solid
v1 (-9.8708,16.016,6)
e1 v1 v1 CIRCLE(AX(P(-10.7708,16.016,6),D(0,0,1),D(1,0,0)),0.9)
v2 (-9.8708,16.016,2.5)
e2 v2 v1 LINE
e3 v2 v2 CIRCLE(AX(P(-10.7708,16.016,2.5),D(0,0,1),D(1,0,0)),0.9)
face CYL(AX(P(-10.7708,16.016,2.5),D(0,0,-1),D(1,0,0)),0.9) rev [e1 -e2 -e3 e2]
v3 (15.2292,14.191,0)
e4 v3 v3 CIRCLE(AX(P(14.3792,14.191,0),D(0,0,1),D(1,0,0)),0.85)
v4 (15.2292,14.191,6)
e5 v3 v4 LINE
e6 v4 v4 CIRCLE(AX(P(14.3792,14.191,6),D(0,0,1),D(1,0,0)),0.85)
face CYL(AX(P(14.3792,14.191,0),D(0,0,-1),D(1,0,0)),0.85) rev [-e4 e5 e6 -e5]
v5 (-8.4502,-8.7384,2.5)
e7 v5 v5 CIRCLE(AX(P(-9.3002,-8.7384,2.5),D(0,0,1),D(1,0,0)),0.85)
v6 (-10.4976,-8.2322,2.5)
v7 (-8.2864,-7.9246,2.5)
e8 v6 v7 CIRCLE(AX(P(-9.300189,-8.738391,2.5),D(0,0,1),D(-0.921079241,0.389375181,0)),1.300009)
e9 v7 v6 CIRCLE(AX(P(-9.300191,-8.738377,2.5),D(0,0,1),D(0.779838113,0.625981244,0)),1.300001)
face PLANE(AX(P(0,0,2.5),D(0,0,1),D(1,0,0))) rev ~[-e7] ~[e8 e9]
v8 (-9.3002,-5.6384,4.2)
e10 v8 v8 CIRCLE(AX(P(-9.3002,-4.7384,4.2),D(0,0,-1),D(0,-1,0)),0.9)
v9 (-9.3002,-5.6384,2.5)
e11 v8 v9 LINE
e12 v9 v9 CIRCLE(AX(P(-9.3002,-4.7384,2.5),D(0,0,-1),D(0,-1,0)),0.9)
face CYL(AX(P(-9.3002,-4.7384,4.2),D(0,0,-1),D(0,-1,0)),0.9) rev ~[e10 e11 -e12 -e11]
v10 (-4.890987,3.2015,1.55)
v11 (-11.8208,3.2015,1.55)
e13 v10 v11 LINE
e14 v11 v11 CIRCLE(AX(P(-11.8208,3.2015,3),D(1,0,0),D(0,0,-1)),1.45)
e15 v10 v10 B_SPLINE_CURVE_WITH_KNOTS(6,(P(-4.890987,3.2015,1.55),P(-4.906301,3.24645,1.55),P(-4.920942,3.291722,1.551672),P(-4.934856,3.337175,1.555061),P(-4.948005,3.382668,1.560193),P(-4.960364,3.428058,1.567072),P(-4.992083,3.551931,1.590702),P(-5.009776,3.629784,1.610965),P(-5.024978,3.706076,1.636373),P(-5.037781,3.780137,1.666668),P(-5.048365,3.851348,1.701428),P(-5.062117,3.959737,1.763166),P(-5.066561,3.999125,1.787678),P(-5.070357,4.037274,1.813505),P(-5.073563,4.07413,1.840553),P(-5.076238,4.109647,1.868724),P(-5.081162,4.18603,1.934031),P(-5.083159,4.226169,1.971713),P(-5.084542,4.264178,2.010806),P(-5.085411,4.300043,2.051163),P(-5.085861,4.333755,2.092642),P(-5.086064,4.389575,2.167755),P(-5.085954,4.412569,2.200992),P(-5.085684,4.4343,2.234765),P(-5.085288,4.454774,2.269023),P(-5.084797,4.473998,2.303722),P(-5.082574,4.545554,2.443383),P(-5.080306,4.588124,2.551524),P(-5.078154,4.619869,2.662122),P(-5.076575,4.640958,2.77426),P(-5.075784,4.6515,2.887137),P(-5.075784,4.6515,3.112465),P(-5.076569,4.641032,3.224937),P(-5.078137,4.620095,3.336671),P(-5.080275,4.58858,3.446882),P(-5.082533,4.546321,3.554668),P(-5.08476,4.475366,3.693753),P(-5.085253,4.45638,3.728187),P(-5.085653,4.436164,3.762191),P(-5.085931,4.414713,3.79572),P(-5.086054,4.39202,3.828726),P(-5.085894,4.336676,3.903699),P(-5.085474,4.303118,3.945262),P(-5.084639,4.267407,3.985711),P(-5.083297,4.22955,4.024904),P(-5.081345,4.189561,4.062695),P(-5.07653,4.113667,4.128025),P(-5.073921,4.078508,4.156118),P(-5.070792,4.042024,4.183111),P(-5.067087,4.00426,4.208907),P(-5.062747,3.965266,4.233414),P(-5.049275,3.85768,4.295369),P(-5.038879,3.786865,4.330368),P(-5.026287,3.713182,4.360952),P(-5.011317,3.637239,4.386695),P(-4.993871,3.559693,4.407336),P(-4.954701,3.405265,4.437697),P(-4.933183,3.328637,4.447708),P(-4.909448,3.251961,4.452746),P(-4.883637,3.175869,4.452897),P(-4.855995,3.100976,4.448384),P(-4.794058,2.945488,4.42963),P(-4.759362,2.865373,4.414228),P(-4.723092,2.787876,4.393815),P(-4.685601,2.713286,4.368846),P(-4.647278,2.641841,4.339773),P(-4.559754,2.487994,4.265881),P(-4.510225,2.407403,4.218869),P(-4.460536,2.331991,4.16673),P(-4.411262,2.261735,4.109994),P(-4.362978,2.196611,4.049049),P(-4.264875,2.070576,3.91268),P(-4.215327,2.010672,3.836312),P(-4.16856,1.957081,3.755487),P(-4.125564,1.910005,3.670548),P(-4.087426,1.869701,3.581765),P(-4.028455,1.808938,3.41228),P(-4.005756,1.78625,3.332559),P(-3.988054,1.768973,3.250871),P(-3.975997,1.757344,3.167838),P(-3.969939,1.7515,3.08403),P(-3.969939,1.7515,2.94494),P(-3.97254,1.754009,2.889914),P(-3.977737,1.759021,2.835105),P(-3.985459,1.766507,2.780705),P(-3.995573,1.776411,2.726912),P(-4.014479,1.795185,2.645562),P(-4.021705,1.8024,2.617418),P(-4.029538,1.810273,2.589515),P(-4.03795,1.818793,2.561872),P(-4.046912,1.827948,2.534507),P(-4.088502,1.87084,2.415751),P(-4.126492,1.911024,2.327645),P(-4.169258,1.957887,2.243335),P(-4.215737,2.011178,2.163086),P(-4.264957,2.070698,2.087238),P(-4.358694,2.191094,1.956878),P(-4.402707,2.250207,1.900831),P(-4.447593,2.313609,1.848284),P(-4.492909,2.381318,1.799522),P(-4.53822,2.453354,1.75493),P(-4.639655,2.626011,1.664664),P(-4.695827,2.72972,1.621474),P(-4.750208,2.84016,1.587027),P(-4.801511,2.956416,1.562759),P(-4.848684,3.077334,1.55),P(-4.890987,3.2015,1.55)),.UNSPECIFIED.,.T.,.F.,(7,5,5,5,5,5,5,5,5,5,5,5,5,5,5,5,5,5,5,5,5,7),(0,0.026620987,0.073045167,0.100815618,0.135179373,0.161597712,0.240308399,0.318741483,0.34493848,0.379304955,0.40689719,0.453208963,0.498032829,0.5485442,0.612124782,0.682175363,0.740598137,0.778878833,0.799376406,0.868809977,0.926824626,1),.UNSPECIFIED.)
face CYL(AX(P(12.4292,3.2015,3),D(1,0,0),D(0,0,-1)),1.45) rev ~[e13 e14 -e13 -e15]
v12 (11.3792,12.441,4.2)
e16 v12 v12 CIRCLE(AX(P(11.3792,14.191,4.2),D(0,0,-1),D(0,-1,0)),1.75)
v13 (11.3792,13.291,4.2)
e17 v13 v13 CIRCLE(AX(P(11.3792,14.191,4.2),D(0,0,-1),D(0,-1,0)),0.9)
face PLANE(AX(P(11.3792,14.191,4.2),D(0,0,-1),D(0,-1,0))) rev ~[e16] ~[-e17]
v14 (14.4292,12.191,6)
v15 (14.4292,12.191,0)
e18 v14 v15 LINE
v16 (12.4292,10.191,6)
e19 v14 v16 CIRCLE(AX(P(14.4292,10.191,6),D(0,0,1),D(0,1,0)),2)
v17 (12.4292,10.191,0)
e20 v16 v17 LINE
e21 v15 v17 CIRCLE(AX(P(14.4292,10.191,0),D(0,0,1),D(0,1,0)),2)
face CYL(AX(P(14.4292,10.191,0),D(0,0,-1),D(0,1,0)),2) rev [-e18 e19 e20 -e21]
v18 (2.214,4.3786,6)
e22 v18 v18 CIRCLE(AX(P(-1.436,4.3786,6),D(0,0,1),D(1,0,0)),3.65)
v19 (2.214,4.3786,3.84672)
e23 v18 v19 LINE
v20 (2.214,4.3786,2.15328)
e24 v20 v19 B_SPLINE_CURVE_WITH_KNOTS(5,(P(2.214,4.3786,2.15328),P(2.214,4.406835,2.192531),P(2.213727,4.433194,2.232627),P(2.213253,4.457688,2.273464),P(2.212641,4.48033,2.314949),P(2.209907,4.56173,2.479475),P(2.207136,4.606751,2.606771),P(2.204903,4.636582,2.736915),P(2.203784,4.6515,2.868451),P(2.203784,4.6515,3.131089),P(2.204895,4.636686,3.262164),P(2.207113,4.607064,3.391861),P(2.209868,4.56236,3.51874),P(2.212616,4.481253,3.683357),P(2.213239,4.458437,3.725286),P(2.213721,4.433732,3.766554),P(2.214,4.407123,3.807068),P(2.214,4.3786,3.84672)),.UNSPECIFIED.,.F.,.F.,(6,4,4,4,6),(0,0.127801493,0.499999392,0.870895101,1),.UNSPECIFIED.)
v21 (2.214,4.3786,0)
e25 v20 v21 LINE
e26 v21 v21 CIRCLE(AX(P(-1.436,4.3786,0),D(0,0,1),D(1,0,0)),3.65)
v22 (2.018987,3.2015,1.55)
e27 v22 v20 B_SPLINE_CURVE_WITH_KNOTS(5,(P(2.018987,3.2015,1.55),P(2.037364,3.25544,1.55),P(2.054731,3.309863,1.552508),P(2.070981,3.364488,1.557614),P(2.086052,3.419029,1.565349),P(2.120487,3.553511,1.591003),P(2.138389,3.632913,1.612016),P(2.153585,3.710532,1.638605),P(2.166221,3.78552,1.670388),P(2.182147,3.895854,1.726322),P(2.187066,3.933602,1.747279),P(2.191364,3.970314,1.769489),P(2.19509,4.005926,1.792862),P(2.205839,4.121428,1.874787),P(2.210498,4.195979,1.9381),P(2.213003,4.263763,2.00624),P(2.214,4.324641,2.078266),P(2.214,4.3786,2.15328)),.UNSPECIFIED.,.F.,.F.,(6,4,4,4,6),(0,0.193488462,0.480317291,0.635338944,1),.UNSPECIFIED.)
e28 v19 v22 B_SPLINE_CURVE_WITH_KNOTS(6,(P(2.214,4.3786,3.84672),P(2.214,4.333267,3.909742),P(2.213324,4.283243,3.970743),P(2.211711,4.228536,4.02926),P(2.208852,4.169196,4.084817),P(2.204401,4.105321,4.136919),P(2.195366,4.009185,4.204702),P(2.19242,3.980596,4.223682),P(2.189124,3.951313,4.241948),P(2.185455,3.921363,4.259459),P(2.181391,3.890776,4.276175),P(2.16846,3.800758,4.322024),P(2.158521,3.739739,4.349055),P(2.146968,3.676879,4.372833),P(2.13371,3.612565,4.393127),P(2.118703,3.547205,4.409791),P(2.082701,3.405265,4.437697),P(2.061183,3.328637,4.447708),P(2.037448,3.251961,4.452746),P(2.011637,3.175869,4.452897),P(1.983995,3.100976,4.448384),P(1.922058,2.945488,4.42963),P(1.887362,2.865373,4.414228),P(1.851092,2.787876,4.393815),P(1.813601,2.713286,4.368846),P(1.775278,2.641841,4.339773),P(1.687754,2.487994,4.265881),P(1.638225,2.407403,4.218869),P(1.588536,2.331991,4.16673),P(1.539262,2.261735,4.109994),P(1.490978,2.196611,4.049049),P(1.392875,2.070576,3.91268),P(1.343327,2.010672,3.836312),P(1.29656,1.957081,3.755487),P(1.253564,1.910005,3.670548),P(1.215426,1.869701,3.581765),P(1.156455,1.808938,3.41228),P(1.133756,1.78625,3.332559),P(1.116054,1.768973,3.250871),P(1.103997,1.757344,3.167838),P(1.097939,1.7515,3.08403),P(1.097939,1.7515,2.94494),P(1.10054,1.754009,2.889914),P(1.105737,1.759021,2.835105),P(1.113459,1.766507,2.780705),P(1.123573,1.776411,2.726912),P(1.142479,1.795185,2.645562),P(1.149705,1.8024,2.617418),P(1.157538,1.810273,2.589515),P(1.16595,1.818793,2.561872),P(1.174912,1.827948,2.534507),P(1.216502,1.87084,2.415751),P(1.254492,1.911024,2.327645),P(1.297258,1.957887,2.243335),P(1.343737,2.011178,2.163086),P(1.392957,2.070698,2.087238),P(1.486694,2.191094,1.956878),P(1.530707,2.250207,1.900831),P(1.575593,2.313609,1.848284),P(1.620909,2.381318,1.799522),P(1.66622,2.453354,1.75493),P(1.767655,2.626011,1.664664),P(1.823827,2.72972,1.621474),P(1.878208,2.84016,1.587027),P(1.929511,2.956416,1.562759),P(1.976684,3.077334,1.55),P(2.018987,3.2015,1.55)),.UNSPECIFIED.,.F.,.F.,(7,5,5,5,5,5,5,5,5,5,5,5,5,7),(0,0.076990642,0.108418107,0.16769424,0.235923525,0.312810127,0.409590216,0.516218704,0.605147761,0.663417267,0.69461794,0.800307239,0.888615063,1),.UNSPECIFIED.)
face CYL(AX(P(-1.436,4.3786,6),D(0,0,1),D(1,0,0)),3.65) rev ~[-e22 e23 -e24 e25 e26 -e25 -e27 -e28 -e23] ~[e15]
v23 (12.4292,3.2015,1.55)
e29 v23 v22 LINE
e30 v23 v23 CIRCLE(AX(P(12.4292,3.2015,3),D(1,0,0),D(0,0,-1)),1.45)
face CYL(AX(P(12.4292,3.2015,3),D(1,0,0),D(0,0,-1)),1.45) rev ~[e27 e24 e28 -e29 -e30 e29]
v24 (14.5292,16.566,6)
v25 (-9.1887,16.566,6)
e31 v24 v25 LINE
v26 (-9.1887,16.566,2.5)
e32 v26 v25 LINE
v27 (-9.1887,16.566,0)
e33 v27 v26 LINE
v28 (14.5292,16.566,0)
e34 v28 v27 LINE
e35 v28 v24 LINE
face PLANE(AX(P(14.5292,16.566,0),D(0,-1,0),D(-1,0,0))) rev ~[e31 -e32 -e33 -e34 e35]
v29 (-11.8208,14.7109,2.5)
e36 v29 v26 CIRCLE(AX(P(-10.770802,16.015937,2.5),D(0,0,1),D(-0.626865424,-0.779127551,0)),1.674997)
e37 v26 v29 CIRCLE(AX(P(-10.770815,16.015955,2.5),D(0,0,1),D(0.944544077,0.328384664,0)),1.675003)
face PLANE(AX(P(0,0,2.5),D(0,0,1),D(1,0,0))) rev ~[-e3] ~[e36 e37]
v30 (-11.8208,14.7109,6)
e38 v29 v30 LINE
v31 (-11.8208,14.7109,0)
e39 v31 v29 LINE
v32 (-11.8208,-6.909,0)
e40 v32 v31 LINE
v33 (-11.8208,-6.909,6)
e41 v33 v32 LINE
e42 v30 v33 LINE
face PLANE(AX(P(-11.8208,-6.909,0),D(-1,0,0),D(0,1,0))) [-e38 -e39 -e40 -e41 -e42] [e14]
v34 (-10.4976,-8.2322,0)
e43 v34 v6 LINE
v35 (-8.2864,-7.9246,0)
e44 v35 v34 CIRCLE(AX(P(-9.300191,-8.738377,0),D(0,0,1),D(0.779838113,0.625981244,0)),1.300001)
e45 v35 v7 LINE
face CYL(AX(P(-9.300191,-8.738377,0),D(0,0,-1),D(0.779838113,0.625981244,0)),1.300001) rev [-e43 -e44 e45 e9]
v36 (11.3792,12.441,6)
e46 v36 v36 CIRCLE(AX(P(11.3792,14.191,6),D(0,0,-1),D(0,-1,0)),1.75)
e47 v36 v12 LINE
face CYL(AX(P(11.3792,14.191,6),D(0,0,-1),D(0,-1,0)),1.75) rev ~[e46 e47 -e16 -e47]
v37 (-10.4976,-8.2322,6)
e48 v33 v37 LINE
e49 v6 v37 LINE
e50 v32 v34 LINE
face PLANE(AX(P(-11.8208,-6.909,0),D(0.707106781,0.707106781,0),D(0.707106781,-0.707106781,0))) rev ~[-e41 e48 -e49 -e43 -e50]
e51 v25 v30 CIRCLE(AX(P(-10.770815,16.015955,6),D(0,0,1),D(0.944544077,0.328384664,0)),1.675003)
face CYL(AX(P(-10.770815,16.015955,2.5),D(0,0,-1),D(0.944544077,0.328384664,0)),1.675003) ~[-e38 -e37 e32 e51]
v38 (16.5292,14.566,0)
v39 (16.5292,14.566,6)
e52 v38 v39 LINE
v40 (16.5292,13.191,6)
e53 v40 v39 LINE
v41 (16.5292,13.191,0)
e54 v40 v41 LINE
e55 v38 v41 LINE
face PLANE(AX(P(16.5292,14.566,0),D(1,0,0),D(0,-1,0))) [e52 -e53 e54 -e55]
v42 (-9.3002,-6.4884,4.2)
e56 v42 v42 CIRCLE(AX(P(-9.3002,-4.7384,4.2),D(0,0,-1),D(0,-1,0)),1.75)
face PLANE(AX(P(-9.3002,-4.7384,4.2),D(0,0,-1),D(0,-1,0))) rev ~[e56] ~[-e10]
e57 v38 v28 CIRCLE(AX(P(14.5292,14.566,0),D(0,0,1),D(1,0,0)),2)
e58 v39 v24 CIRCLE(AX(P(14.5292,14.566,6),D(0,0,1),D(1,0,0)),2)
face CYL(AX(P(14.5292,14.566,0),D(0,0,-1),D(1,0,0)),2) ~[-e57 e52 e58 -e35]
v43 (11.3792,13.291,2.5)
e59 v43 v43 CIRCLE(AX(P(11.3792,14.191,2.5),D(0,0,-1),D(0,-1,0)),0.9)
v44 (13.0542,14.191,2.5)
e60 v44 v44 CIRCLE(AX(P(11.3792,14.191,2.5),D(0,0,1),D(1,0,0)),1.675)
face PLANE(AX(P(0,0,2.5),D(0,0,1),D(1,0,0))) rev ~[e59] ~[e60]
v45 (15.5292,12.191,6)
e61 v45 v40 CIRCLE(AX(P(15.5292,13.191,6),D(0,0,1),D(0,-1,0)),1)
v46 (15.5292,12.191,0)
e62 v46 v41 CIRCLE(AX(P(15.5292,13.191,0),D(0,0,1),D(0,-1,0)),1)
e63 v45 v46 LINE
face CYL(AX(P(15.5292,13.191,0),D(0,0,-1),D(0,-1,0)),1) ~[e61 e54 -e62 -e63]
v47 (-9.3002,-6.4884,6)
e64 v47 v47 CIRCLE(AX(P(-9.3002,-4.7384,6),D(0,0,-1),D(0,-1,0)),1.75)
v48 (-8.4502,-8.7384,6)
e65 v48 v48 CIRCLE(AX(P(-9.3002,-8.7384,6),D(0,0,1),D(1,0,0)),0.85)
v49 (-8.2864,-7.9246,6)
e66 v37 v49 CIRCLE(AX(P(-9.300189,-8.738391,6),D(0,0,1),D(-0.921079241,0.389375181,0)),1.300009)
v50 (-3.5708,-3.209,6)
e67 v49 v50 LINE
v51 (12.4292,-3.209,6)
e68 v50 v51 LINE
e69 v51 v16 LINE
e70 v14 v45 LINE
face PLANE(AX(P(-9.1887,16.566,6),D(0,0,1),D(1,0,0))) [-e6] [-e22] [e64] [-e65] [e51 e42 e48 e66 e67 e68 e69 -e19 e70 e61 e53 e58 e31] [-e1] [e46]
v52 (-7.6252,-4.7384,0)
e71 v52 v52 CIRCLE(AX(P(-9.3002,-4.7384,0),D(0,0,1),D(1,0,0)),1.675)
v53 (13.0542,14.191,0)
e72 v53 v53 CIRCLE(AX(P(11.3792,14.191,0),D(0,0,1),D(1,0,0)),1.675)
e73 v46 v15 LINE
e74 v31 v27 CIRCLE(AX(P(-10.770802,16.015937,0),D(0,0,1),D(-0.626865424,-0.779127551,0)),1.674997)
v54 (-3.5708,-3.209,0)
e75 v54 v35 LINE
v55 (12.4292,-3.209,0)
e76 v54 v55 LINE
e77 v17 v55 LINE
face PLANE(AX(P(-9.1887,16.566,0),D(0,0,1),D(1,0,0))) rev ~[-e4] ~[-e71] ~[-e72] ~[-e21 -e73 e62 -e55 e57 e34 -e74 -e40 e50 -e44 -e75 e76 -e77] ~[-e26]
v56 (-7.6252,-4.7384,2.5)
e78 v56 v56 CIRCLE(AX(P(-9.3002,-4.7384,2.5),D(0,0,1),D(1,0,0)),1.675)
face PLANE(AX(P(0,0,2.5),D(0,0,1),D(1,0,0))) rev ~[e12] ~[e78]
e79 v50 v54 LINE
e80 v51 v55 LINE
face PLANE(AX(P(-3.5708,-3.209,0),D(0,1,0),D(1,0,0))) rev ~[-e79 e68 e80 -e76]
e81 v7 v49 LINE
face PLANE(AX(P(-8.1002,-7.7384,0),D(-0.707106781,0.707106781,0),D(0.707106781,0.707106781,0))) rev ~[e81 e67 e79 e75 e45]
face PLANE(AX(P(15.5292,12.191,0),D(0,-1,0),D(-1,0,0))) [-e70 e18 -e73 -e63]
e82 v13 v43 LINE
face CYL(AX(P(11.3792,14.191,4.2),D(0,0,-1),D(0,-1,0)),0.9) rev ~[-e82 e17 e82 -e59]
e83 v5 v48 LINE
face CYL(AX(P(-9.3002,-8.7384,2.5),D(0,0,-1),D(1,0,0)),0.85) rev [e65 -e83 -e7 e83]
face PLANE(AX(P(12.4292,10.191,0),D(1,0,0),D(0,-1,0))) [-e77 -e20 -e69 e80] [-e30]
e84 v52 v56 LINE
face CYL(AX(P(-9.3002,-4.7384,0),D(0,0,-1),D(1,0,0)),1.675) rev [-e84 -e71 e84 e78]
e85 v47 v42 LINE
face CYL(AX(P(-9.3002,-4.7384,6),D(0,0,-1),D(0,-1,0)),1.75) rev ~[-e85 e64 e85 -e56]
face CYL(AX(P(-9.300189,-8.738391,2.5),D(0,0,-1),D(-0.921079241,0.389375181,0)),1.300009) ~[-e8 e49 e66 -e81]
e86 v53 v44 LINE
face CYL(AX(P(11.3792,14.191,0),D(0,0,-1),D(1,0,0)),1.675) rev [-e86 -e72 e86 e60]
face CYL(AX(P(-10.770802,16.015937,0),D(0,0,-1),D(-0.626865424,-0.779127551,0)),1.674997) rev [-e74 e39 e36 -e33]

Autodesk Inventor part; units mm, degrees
ref_plane "YZ Plane" through (0, 0, 0) normal (1, 0, 0) x (0, 1, 0)
ref_plane "XZ Plane" through (0, 0, 0) normal (0, 1, 0) x (-1, 0, 0)
sketch "Skizze1" plane through (0, 0, 0) normal (0, 0, 1) x (1, 0, 0)
  line L0 (14.1792, -17.284) -> (14.1792, 17.716)
  line L1 (14.1792, 17.716) -> (-11.8208, 17.716)
  line L2 (-11.8208, 17.716) -> (-11.8208, -17.284)
  line L3 (-11.8208, -17.284) -> (14.1792, -17.284)
  line L4 (14.1792, -17.284) -> (-11.8208, 17.716) construction
  line L5 (14.1792, 17.716) -> (-11.8208, -17.284) construction
  line L6 (3.4292, 10.341) -> (-6.0708, 10.341) construction
  line L7 (3.4292, 3.091) -> (3.4292, 10.341) construction
  line L8 (-6.0708, 3.091) -> (3.4292, 3.091) construction
  line L9 (-6.0708, 10.341) -> (-6.0708, 3.091) construction
  line L10 (3.4292, 10.341) -> (-6.0708, 3.091) construction
  line L11 (3.4292, 3.091) -> (-6.0708, 10.341) construction
  point P0 (0, 0)
  point P1 (1.1792, 0.216)
  point P2 (1.1792, 0.216)
  point P3 (-1.3208, 6.716)
  point P4 (-1.3208, 6.716)
  point P5 (1.1792, 0.216)
  point P6 (-1.3208, 6.716)
  dimension "d0" = 26
  dimension "d1" = 35
  dimension "d2" = 11
  dimension "d3" = 2.5
sketch "Skizze2" plane through (0, 0, 0) normal (0, 0, 1) x (1, 0, 0)
  line L0 (-3.4208, 1.091) -> (-7.8208, 1.091) projected
  line L1 (-7.8208, 1.091) -> (-7.8208, 12.341) projected
  line L2 (-7.8208, 12.341) -> (-3.4208, 12.341) projected
  line L3 (5.1792, 1.091) -> (0.7792, 1.091) projected
  line L4 (5.1792, 12.341) -> (5.1792, 1.091) projected
  line L5 (0.7792, 12.341) -> (5.1792, 12.341) projected
  circle A0 centre (-9.3002, -4.7384) radius 1.575 construction
  circle A1 centre (11.3792, 14.191) radius 1.575 construction
  circle A2 centre (-9.3002, -4.7384) radius 0.7 construction
  circle A3 centre (-10.7708, 16.016) radius 0.7 construction
  circle A4 centre (11.3792, 14.191) radius 0.7 construction
  line L6 (-3.4208, 12.341) -> (-3.4208, 13.366) projected
  line L7 (-3.4208, 13.366) -> (0.7792, 13.366) projected
  line L8 (0.7792, 0.066) -> (-3.4208, 0.066) projected
  line L9 (-3.4208, 0.066) -> (-3.4208, 1.091) projected
  line L10 (0.7792, 1.091) -> (0.7792, 0.066) projected
  line L11 (0.7792, 13.366) -> (0.7792, 12.341) projected
  line L12 (-12.2708, -9.259) -> (-12.2708, 10.741) construction
  line L13 (14.5292, 16.566) -> (-9.295, 16.566) construction
  arc A5 (16.5292, 14.566) -> (14.5292, 16.566) centre (14.5292, 14.566) ccw projected
  line L14 (16.5292, 14.566) -> (16.5292, 13.191) projected
  arc A6 (15.5292, 12.191) -> (16.5292, 13.191) centre (15.5292, 13.191) ccw projected
  line L15 (15.5292, 12.191) -> (14.4292, 12.191) projected
  arc A7 (14.4292, 12.191) -> (12.4292, 10.191) centre (14.4292, 10.191) ccw projected
  line L16 (12.4292, 10.191) -> (12.4292, -3.209) projected
  line L17 (-3.5708, -3.209) -> (12.4292, -3.209) projected
  line L18 (-8.1002, -7.7384) -> (-3.5708, -3.209) projected
  arc A8 (-10.7708, 17.591) -> (-9.295, 16.566) centre (-10.7708, 16.016) ccw construction
  line L19 (-8.1002, -8.7384) -> (-8.1002, -7.7384) construction
  circle A9 centre (-9.3002, -8.7384) radius 0.75 construction
  circle A10 centre (-9.3002, -8.7384) radius 1.2 construction
  line L20 (-10.8208, -7.909) -> (-11.8208, -6.909) construction
  line L21 (-11.8208, -6.909) -> (-11.8208, 14.7109)
  line L22 (-11.8208, -6.909) -> (-10.4976, -8.2322)
  arc A11 (-8.1002, -8.2384) -> (-8.2864, -7.9246) centre (-9.3002, -8.7384) ccw construction
  line L23 (-8.1002, -8.2384) -> (-8.1002, -7.7384) construction
  circle A12 centre (-9.3002, -4.7384) radius 1.675
  circle A13 centre (11.3792, 14.191) radius 1.675
  line L24 (14.5292, 16.566) -> (-9.1887, 16.566)
  arc A14 (-11.8208, 14.7109) -> (-9.1887, 16.566) centre (-10.7708, 16.016) ccw
  circle A15 centre (14.3792, 14.191) radius 0.75 construction
  circle A16 centre (14.3792, 14.191) radius 0.85
  line L25 (-8.1002, -7.7384) -> (-8.2864, -7.9246)
  arc A17 (-8.2864, -7.9246) -> (-10.4976, -8.2322) centre (-9.3002, -8.7384) ccw
  point P0 (0, 0)
  dimension "d4" = 0.1
  dimension "d5" = 0.1
  dimension "d6" = 0.1
  dimension "d7" = 0.1
  dimension "d10" = 0.1
extrude "Extrusion1" add sketch "Skizze2" along normal blind 2.5
sketch "Skizze3" plane through (0, 0, 2.5) normal (0, 0, 1) x (1, 0, 0)
  line L0 (-7.8208, 1.091) -> (-7.8208, 12.341) projected
  line L1 (-7.8208, 12.341) -> (-3.4208, 12.341) projected
  line L2 (-3.4208, 12.341) -> (-3.4208, 13.366) projected
  line L3 (-3.4208, 13.366) -> (0.7792, 13.366) projected
  line L4 (0.7792, 13.366) -> (0.7792, 12.341) projected
  line L5 (0.7792, 12.341) -> (5.1792, 12.341) projected
  line L6 (5.1792, 12.341) -> (5.1792, 1.091) projected
  line L7 (5.1792, 1.091) -> (0.7792, 1.091) projected
  line L8 (0.7792, 1.091) -> (0.7792, 0.066) projected
  line L9 (0.7792, 0.066) -> (-3.4208, 0.066) projected
  line L10 (-3.4208, 0.066) -> (-3.4208, 1.091) projected
  line L11 (-3.4208, 1.091) -> (-7.8208, 1.091) projected
  circle A0 centre (11.3792, 14.191) radius 1.675 construction
  circle A1 centre (-9.3002, -4.7384) radius 1.675 construction
  circle A2 centre (14.3792, 14.191) radius 0.85 projected
  arc A3 (16.5292, 14.566) -> (14.5292, 16.566) centre (14.5292, 14.566) ccw projected
  line L12 (14.5292, 16.566) -> (-9.1887, 16.566) projected
  arc A4 (-11.8208, 14.7109) -> (-9.1887, 16.566) centre (-10.7708, 16.016) ccw construction
  line L13 (-11.8208, 14.7109) -> (-11.8208, -6.909) projected
  line L14 (-11.8208, -6.909) -> (-10.4976, -8.2322) projected
  line L15 (-8.2864, -7.9246) -> (-3.5708, -3.209) projected
  line L16 (-3.5708, -3.209) -> (12.4292, -3.209) projected
  line L17 (12.4292, -3.209) -> (12.4292, 10.191) projected
  arc A5 (14.4292, 12.191) -> (12.4292, 10.191) centre (14.4292, 10.191) ccw projected
  line L18 (14.4292, 12.191) -> (15.5292, 12.191) projected
  arc A6 (15.5292, 12.191) -> (16.5292, 13.191) centre (15.5292, 13.191) ccw projected
  line L19 (16.5292, 13.191) -> (16.5292, 14.566) projected
  circle A7 centre (11.3792, 14.191) radius 0.7 construction
  circle A8 centre (-9.3002, -4.7384) radius 0.7 construction
  circle A9 centre (-9.3002, -8.7384) radius 0.75 construction
  arc A10 (-8.2864, -7.9246) -> (-10.4976, -8.2322) centre (-9.3002, -8.7384) ccw construction
  circle A11 centre (-9.3002, -8.7384) radius 0.85
  line L20 (-8.2864, -7.9246) -> (-3.5708, -3.209) projected
  arc A12 (-10.4976, -8.2322) -> (-8.2864, -7.9246) centre (-9.3002, -8.7384) ccw
  arc A13 (-9.1887, 16.566) -> (-11.8208, 14.7109) centre (-10.7708, 16.016) ccw
  circle A14 centre (-10.7708, 16.016) radius 0.7 construction
  circle A15 centre (-10.7708, 16.016) radius 0.9
  circle A16 centre (11.3792, 14.191) radius 0.9
  circle A17 centre (-9.3002, -4.7384) radius 0.9
  point P0 (0, 0)
  dimension "d11" = 0.1
  dimension "d13" = 1.8
  dimension "d14" = 1.8
  dimension "d15" = 1.8
ref_plane "Arbeitsebene1" through (-9.7716, -9.2098, 6) normal (0, 0, 1) x (1, 0, 0)
extrude "Extrusion2" add sketch "Skizze3" along normal up to surface (3.5 mm away) contours L19 A6 L18 A5 L17 L16 L15 A12 L14 L13 A13 L12 A3 | A16 | A17
sketch "Skizze4" plane through (-9.1887, 16.566, 6) normal (0, 0, 1) x (1, 0, 0)
  circle A0 centre (-0.1115, -21.3043) radius 0.7 construction
  circle A1 centre (-1.5821, -0.55) radius 0.7 construction
  circle A2 centre (20.5679, -2.375) radius 0.7 construction
  point P0 (9.1887, -16.566)
hole "Bohrung1" at (-9.3002, -4.7384, 6) at (11.3792, 14.191, 6) direction (0, 0, -1) diameter 1.8 end through all counterbore diameter 3.5 counterbore depth 1.8 clearance for "Inbusschraube ISO 4762" size "M1.6" standard "ISO"
sketch "Sketch5" plane through (-9.1887, 16.566, 6) normal (0, 0, 1) x (1, 0, 0)
  circle A0 centre (7.7527, -12.1874) radius 3.65
  circle A1 centre (-0.1115, -21.3043) radius 1.75 projected
  circle A2 centre (20.5679, -2.375) radius 1.75 projected
  line L0 (25.7179, -2) -> (25.7179, -3.375) projected
  arc A3 (25.7179, -2) -> (23.7179, 0) centre (23.7179, -2) ccw projected
  line L1 (0, 0) -> (23.7179, 0) projected
  arc A4 (0, 0) -> (-2.6321, -1.855) centre (-1.5821, -0.55) ccw projected
  line L2 (-2.6321, -23.475) -> (-2.6321, -1.855) projected
  line L3 (-1.3089, -24.7982) -> (-2.6321, -23.475) projected
  arc A5 (-1.3089, -24.7982) -> (0.9023, -24.4906) centre (-0.1115, -25.3043) ccw projected
  line L4 (5.6179, -19.775) -> (0.9023, -24.4906) projected
  line L5 (21.6179, -19.775) -> (5.6179, -19.775) projected
  line L6 (21.6179, -6.375) -> (21.6179, -19.775) projected
  arc A6 (23.6179, -4.375) -> (21.6179, -6.375) centre (23.6179, -6.375) ccw projected
  line L7 (24.7179, -4.375) -> (23.6179, -4.375) projected
  arc A7 (24.7179, -4.375) -> (25.7179, -3.375) centre (24.7179, -3.375) ccw projected
  circle A8 centre (23.5679, -2.375) radius 0.85 projected
  circle A9 centre (-0.1115, -25.3043) radius 0.85 projected
  circle A10 centre (-1.5821, -0.55) radius 0.9 projected
  line L8 (5.7679, -4.225) -> (1.3679, -4.225) projected
  line L9 (5.7679, -3.2) -> (5.7679, -4.225) projected
  line L10 (9.9679, -3.2) -> (5.7679, -3.2) projected
  line L11 (9.9679, -4.225) -> (9.9679, -3.2) projected
  line L12 (14.3679, -4.225) -> (9.9679, -4.225) projected
  line L13 (14.3679, -15.475) -> (14.3679, -4.225) projected
  line L14 (9.9679, -15.475) -> (14.3679, -15.475) projected
  line L15 (9.9679, -16.5) -> (9.9679, -15.475) projected
  line L16 (5.7679, -16.5) -> (9.9679, -16.5) projected
  line L17 (5.7679, -15.475) -> (5.7679, -16.5) projected
  line L18 (1.3679, -15.475) -> (5.7679, -15.475) projected
  line L19 (1.3679, -4.225) -> (1.3679, -15.475) projected
  point P0 (9.1887, -16.566)
  dimension "d25" = 7.3
extrude "Extrusion3" add sketch "Sketch5" against normal up to surface (6 mm away) contours L9 L10 L11 L12 L13 L14 L15 L16 L17 L18 L19 L8
sketch "Sketch6" plane through (12.4292, -3.209, 0) normal (1, 0, 0) x (0, 0, -1)
  line L0 (0, 13.4) -> (0, 0) projected
  line L1 (0, 13.4) -> (-6, 13.4) projected
  line L2 (-6, 13.4) -> (-6, 0) projected
  line L3 (0, 0) -> (-6, 0) projected
  circle A0 centre (-3, 6.4105) radius 1.45
  point P0 (0, 3.209)
  dimension "d28" = 2.9
extrude "Extrusion4" cut sketch "Sketch6" against normal through all contours A0
properties part number "110_Syrringeholder_XY_Stage"
